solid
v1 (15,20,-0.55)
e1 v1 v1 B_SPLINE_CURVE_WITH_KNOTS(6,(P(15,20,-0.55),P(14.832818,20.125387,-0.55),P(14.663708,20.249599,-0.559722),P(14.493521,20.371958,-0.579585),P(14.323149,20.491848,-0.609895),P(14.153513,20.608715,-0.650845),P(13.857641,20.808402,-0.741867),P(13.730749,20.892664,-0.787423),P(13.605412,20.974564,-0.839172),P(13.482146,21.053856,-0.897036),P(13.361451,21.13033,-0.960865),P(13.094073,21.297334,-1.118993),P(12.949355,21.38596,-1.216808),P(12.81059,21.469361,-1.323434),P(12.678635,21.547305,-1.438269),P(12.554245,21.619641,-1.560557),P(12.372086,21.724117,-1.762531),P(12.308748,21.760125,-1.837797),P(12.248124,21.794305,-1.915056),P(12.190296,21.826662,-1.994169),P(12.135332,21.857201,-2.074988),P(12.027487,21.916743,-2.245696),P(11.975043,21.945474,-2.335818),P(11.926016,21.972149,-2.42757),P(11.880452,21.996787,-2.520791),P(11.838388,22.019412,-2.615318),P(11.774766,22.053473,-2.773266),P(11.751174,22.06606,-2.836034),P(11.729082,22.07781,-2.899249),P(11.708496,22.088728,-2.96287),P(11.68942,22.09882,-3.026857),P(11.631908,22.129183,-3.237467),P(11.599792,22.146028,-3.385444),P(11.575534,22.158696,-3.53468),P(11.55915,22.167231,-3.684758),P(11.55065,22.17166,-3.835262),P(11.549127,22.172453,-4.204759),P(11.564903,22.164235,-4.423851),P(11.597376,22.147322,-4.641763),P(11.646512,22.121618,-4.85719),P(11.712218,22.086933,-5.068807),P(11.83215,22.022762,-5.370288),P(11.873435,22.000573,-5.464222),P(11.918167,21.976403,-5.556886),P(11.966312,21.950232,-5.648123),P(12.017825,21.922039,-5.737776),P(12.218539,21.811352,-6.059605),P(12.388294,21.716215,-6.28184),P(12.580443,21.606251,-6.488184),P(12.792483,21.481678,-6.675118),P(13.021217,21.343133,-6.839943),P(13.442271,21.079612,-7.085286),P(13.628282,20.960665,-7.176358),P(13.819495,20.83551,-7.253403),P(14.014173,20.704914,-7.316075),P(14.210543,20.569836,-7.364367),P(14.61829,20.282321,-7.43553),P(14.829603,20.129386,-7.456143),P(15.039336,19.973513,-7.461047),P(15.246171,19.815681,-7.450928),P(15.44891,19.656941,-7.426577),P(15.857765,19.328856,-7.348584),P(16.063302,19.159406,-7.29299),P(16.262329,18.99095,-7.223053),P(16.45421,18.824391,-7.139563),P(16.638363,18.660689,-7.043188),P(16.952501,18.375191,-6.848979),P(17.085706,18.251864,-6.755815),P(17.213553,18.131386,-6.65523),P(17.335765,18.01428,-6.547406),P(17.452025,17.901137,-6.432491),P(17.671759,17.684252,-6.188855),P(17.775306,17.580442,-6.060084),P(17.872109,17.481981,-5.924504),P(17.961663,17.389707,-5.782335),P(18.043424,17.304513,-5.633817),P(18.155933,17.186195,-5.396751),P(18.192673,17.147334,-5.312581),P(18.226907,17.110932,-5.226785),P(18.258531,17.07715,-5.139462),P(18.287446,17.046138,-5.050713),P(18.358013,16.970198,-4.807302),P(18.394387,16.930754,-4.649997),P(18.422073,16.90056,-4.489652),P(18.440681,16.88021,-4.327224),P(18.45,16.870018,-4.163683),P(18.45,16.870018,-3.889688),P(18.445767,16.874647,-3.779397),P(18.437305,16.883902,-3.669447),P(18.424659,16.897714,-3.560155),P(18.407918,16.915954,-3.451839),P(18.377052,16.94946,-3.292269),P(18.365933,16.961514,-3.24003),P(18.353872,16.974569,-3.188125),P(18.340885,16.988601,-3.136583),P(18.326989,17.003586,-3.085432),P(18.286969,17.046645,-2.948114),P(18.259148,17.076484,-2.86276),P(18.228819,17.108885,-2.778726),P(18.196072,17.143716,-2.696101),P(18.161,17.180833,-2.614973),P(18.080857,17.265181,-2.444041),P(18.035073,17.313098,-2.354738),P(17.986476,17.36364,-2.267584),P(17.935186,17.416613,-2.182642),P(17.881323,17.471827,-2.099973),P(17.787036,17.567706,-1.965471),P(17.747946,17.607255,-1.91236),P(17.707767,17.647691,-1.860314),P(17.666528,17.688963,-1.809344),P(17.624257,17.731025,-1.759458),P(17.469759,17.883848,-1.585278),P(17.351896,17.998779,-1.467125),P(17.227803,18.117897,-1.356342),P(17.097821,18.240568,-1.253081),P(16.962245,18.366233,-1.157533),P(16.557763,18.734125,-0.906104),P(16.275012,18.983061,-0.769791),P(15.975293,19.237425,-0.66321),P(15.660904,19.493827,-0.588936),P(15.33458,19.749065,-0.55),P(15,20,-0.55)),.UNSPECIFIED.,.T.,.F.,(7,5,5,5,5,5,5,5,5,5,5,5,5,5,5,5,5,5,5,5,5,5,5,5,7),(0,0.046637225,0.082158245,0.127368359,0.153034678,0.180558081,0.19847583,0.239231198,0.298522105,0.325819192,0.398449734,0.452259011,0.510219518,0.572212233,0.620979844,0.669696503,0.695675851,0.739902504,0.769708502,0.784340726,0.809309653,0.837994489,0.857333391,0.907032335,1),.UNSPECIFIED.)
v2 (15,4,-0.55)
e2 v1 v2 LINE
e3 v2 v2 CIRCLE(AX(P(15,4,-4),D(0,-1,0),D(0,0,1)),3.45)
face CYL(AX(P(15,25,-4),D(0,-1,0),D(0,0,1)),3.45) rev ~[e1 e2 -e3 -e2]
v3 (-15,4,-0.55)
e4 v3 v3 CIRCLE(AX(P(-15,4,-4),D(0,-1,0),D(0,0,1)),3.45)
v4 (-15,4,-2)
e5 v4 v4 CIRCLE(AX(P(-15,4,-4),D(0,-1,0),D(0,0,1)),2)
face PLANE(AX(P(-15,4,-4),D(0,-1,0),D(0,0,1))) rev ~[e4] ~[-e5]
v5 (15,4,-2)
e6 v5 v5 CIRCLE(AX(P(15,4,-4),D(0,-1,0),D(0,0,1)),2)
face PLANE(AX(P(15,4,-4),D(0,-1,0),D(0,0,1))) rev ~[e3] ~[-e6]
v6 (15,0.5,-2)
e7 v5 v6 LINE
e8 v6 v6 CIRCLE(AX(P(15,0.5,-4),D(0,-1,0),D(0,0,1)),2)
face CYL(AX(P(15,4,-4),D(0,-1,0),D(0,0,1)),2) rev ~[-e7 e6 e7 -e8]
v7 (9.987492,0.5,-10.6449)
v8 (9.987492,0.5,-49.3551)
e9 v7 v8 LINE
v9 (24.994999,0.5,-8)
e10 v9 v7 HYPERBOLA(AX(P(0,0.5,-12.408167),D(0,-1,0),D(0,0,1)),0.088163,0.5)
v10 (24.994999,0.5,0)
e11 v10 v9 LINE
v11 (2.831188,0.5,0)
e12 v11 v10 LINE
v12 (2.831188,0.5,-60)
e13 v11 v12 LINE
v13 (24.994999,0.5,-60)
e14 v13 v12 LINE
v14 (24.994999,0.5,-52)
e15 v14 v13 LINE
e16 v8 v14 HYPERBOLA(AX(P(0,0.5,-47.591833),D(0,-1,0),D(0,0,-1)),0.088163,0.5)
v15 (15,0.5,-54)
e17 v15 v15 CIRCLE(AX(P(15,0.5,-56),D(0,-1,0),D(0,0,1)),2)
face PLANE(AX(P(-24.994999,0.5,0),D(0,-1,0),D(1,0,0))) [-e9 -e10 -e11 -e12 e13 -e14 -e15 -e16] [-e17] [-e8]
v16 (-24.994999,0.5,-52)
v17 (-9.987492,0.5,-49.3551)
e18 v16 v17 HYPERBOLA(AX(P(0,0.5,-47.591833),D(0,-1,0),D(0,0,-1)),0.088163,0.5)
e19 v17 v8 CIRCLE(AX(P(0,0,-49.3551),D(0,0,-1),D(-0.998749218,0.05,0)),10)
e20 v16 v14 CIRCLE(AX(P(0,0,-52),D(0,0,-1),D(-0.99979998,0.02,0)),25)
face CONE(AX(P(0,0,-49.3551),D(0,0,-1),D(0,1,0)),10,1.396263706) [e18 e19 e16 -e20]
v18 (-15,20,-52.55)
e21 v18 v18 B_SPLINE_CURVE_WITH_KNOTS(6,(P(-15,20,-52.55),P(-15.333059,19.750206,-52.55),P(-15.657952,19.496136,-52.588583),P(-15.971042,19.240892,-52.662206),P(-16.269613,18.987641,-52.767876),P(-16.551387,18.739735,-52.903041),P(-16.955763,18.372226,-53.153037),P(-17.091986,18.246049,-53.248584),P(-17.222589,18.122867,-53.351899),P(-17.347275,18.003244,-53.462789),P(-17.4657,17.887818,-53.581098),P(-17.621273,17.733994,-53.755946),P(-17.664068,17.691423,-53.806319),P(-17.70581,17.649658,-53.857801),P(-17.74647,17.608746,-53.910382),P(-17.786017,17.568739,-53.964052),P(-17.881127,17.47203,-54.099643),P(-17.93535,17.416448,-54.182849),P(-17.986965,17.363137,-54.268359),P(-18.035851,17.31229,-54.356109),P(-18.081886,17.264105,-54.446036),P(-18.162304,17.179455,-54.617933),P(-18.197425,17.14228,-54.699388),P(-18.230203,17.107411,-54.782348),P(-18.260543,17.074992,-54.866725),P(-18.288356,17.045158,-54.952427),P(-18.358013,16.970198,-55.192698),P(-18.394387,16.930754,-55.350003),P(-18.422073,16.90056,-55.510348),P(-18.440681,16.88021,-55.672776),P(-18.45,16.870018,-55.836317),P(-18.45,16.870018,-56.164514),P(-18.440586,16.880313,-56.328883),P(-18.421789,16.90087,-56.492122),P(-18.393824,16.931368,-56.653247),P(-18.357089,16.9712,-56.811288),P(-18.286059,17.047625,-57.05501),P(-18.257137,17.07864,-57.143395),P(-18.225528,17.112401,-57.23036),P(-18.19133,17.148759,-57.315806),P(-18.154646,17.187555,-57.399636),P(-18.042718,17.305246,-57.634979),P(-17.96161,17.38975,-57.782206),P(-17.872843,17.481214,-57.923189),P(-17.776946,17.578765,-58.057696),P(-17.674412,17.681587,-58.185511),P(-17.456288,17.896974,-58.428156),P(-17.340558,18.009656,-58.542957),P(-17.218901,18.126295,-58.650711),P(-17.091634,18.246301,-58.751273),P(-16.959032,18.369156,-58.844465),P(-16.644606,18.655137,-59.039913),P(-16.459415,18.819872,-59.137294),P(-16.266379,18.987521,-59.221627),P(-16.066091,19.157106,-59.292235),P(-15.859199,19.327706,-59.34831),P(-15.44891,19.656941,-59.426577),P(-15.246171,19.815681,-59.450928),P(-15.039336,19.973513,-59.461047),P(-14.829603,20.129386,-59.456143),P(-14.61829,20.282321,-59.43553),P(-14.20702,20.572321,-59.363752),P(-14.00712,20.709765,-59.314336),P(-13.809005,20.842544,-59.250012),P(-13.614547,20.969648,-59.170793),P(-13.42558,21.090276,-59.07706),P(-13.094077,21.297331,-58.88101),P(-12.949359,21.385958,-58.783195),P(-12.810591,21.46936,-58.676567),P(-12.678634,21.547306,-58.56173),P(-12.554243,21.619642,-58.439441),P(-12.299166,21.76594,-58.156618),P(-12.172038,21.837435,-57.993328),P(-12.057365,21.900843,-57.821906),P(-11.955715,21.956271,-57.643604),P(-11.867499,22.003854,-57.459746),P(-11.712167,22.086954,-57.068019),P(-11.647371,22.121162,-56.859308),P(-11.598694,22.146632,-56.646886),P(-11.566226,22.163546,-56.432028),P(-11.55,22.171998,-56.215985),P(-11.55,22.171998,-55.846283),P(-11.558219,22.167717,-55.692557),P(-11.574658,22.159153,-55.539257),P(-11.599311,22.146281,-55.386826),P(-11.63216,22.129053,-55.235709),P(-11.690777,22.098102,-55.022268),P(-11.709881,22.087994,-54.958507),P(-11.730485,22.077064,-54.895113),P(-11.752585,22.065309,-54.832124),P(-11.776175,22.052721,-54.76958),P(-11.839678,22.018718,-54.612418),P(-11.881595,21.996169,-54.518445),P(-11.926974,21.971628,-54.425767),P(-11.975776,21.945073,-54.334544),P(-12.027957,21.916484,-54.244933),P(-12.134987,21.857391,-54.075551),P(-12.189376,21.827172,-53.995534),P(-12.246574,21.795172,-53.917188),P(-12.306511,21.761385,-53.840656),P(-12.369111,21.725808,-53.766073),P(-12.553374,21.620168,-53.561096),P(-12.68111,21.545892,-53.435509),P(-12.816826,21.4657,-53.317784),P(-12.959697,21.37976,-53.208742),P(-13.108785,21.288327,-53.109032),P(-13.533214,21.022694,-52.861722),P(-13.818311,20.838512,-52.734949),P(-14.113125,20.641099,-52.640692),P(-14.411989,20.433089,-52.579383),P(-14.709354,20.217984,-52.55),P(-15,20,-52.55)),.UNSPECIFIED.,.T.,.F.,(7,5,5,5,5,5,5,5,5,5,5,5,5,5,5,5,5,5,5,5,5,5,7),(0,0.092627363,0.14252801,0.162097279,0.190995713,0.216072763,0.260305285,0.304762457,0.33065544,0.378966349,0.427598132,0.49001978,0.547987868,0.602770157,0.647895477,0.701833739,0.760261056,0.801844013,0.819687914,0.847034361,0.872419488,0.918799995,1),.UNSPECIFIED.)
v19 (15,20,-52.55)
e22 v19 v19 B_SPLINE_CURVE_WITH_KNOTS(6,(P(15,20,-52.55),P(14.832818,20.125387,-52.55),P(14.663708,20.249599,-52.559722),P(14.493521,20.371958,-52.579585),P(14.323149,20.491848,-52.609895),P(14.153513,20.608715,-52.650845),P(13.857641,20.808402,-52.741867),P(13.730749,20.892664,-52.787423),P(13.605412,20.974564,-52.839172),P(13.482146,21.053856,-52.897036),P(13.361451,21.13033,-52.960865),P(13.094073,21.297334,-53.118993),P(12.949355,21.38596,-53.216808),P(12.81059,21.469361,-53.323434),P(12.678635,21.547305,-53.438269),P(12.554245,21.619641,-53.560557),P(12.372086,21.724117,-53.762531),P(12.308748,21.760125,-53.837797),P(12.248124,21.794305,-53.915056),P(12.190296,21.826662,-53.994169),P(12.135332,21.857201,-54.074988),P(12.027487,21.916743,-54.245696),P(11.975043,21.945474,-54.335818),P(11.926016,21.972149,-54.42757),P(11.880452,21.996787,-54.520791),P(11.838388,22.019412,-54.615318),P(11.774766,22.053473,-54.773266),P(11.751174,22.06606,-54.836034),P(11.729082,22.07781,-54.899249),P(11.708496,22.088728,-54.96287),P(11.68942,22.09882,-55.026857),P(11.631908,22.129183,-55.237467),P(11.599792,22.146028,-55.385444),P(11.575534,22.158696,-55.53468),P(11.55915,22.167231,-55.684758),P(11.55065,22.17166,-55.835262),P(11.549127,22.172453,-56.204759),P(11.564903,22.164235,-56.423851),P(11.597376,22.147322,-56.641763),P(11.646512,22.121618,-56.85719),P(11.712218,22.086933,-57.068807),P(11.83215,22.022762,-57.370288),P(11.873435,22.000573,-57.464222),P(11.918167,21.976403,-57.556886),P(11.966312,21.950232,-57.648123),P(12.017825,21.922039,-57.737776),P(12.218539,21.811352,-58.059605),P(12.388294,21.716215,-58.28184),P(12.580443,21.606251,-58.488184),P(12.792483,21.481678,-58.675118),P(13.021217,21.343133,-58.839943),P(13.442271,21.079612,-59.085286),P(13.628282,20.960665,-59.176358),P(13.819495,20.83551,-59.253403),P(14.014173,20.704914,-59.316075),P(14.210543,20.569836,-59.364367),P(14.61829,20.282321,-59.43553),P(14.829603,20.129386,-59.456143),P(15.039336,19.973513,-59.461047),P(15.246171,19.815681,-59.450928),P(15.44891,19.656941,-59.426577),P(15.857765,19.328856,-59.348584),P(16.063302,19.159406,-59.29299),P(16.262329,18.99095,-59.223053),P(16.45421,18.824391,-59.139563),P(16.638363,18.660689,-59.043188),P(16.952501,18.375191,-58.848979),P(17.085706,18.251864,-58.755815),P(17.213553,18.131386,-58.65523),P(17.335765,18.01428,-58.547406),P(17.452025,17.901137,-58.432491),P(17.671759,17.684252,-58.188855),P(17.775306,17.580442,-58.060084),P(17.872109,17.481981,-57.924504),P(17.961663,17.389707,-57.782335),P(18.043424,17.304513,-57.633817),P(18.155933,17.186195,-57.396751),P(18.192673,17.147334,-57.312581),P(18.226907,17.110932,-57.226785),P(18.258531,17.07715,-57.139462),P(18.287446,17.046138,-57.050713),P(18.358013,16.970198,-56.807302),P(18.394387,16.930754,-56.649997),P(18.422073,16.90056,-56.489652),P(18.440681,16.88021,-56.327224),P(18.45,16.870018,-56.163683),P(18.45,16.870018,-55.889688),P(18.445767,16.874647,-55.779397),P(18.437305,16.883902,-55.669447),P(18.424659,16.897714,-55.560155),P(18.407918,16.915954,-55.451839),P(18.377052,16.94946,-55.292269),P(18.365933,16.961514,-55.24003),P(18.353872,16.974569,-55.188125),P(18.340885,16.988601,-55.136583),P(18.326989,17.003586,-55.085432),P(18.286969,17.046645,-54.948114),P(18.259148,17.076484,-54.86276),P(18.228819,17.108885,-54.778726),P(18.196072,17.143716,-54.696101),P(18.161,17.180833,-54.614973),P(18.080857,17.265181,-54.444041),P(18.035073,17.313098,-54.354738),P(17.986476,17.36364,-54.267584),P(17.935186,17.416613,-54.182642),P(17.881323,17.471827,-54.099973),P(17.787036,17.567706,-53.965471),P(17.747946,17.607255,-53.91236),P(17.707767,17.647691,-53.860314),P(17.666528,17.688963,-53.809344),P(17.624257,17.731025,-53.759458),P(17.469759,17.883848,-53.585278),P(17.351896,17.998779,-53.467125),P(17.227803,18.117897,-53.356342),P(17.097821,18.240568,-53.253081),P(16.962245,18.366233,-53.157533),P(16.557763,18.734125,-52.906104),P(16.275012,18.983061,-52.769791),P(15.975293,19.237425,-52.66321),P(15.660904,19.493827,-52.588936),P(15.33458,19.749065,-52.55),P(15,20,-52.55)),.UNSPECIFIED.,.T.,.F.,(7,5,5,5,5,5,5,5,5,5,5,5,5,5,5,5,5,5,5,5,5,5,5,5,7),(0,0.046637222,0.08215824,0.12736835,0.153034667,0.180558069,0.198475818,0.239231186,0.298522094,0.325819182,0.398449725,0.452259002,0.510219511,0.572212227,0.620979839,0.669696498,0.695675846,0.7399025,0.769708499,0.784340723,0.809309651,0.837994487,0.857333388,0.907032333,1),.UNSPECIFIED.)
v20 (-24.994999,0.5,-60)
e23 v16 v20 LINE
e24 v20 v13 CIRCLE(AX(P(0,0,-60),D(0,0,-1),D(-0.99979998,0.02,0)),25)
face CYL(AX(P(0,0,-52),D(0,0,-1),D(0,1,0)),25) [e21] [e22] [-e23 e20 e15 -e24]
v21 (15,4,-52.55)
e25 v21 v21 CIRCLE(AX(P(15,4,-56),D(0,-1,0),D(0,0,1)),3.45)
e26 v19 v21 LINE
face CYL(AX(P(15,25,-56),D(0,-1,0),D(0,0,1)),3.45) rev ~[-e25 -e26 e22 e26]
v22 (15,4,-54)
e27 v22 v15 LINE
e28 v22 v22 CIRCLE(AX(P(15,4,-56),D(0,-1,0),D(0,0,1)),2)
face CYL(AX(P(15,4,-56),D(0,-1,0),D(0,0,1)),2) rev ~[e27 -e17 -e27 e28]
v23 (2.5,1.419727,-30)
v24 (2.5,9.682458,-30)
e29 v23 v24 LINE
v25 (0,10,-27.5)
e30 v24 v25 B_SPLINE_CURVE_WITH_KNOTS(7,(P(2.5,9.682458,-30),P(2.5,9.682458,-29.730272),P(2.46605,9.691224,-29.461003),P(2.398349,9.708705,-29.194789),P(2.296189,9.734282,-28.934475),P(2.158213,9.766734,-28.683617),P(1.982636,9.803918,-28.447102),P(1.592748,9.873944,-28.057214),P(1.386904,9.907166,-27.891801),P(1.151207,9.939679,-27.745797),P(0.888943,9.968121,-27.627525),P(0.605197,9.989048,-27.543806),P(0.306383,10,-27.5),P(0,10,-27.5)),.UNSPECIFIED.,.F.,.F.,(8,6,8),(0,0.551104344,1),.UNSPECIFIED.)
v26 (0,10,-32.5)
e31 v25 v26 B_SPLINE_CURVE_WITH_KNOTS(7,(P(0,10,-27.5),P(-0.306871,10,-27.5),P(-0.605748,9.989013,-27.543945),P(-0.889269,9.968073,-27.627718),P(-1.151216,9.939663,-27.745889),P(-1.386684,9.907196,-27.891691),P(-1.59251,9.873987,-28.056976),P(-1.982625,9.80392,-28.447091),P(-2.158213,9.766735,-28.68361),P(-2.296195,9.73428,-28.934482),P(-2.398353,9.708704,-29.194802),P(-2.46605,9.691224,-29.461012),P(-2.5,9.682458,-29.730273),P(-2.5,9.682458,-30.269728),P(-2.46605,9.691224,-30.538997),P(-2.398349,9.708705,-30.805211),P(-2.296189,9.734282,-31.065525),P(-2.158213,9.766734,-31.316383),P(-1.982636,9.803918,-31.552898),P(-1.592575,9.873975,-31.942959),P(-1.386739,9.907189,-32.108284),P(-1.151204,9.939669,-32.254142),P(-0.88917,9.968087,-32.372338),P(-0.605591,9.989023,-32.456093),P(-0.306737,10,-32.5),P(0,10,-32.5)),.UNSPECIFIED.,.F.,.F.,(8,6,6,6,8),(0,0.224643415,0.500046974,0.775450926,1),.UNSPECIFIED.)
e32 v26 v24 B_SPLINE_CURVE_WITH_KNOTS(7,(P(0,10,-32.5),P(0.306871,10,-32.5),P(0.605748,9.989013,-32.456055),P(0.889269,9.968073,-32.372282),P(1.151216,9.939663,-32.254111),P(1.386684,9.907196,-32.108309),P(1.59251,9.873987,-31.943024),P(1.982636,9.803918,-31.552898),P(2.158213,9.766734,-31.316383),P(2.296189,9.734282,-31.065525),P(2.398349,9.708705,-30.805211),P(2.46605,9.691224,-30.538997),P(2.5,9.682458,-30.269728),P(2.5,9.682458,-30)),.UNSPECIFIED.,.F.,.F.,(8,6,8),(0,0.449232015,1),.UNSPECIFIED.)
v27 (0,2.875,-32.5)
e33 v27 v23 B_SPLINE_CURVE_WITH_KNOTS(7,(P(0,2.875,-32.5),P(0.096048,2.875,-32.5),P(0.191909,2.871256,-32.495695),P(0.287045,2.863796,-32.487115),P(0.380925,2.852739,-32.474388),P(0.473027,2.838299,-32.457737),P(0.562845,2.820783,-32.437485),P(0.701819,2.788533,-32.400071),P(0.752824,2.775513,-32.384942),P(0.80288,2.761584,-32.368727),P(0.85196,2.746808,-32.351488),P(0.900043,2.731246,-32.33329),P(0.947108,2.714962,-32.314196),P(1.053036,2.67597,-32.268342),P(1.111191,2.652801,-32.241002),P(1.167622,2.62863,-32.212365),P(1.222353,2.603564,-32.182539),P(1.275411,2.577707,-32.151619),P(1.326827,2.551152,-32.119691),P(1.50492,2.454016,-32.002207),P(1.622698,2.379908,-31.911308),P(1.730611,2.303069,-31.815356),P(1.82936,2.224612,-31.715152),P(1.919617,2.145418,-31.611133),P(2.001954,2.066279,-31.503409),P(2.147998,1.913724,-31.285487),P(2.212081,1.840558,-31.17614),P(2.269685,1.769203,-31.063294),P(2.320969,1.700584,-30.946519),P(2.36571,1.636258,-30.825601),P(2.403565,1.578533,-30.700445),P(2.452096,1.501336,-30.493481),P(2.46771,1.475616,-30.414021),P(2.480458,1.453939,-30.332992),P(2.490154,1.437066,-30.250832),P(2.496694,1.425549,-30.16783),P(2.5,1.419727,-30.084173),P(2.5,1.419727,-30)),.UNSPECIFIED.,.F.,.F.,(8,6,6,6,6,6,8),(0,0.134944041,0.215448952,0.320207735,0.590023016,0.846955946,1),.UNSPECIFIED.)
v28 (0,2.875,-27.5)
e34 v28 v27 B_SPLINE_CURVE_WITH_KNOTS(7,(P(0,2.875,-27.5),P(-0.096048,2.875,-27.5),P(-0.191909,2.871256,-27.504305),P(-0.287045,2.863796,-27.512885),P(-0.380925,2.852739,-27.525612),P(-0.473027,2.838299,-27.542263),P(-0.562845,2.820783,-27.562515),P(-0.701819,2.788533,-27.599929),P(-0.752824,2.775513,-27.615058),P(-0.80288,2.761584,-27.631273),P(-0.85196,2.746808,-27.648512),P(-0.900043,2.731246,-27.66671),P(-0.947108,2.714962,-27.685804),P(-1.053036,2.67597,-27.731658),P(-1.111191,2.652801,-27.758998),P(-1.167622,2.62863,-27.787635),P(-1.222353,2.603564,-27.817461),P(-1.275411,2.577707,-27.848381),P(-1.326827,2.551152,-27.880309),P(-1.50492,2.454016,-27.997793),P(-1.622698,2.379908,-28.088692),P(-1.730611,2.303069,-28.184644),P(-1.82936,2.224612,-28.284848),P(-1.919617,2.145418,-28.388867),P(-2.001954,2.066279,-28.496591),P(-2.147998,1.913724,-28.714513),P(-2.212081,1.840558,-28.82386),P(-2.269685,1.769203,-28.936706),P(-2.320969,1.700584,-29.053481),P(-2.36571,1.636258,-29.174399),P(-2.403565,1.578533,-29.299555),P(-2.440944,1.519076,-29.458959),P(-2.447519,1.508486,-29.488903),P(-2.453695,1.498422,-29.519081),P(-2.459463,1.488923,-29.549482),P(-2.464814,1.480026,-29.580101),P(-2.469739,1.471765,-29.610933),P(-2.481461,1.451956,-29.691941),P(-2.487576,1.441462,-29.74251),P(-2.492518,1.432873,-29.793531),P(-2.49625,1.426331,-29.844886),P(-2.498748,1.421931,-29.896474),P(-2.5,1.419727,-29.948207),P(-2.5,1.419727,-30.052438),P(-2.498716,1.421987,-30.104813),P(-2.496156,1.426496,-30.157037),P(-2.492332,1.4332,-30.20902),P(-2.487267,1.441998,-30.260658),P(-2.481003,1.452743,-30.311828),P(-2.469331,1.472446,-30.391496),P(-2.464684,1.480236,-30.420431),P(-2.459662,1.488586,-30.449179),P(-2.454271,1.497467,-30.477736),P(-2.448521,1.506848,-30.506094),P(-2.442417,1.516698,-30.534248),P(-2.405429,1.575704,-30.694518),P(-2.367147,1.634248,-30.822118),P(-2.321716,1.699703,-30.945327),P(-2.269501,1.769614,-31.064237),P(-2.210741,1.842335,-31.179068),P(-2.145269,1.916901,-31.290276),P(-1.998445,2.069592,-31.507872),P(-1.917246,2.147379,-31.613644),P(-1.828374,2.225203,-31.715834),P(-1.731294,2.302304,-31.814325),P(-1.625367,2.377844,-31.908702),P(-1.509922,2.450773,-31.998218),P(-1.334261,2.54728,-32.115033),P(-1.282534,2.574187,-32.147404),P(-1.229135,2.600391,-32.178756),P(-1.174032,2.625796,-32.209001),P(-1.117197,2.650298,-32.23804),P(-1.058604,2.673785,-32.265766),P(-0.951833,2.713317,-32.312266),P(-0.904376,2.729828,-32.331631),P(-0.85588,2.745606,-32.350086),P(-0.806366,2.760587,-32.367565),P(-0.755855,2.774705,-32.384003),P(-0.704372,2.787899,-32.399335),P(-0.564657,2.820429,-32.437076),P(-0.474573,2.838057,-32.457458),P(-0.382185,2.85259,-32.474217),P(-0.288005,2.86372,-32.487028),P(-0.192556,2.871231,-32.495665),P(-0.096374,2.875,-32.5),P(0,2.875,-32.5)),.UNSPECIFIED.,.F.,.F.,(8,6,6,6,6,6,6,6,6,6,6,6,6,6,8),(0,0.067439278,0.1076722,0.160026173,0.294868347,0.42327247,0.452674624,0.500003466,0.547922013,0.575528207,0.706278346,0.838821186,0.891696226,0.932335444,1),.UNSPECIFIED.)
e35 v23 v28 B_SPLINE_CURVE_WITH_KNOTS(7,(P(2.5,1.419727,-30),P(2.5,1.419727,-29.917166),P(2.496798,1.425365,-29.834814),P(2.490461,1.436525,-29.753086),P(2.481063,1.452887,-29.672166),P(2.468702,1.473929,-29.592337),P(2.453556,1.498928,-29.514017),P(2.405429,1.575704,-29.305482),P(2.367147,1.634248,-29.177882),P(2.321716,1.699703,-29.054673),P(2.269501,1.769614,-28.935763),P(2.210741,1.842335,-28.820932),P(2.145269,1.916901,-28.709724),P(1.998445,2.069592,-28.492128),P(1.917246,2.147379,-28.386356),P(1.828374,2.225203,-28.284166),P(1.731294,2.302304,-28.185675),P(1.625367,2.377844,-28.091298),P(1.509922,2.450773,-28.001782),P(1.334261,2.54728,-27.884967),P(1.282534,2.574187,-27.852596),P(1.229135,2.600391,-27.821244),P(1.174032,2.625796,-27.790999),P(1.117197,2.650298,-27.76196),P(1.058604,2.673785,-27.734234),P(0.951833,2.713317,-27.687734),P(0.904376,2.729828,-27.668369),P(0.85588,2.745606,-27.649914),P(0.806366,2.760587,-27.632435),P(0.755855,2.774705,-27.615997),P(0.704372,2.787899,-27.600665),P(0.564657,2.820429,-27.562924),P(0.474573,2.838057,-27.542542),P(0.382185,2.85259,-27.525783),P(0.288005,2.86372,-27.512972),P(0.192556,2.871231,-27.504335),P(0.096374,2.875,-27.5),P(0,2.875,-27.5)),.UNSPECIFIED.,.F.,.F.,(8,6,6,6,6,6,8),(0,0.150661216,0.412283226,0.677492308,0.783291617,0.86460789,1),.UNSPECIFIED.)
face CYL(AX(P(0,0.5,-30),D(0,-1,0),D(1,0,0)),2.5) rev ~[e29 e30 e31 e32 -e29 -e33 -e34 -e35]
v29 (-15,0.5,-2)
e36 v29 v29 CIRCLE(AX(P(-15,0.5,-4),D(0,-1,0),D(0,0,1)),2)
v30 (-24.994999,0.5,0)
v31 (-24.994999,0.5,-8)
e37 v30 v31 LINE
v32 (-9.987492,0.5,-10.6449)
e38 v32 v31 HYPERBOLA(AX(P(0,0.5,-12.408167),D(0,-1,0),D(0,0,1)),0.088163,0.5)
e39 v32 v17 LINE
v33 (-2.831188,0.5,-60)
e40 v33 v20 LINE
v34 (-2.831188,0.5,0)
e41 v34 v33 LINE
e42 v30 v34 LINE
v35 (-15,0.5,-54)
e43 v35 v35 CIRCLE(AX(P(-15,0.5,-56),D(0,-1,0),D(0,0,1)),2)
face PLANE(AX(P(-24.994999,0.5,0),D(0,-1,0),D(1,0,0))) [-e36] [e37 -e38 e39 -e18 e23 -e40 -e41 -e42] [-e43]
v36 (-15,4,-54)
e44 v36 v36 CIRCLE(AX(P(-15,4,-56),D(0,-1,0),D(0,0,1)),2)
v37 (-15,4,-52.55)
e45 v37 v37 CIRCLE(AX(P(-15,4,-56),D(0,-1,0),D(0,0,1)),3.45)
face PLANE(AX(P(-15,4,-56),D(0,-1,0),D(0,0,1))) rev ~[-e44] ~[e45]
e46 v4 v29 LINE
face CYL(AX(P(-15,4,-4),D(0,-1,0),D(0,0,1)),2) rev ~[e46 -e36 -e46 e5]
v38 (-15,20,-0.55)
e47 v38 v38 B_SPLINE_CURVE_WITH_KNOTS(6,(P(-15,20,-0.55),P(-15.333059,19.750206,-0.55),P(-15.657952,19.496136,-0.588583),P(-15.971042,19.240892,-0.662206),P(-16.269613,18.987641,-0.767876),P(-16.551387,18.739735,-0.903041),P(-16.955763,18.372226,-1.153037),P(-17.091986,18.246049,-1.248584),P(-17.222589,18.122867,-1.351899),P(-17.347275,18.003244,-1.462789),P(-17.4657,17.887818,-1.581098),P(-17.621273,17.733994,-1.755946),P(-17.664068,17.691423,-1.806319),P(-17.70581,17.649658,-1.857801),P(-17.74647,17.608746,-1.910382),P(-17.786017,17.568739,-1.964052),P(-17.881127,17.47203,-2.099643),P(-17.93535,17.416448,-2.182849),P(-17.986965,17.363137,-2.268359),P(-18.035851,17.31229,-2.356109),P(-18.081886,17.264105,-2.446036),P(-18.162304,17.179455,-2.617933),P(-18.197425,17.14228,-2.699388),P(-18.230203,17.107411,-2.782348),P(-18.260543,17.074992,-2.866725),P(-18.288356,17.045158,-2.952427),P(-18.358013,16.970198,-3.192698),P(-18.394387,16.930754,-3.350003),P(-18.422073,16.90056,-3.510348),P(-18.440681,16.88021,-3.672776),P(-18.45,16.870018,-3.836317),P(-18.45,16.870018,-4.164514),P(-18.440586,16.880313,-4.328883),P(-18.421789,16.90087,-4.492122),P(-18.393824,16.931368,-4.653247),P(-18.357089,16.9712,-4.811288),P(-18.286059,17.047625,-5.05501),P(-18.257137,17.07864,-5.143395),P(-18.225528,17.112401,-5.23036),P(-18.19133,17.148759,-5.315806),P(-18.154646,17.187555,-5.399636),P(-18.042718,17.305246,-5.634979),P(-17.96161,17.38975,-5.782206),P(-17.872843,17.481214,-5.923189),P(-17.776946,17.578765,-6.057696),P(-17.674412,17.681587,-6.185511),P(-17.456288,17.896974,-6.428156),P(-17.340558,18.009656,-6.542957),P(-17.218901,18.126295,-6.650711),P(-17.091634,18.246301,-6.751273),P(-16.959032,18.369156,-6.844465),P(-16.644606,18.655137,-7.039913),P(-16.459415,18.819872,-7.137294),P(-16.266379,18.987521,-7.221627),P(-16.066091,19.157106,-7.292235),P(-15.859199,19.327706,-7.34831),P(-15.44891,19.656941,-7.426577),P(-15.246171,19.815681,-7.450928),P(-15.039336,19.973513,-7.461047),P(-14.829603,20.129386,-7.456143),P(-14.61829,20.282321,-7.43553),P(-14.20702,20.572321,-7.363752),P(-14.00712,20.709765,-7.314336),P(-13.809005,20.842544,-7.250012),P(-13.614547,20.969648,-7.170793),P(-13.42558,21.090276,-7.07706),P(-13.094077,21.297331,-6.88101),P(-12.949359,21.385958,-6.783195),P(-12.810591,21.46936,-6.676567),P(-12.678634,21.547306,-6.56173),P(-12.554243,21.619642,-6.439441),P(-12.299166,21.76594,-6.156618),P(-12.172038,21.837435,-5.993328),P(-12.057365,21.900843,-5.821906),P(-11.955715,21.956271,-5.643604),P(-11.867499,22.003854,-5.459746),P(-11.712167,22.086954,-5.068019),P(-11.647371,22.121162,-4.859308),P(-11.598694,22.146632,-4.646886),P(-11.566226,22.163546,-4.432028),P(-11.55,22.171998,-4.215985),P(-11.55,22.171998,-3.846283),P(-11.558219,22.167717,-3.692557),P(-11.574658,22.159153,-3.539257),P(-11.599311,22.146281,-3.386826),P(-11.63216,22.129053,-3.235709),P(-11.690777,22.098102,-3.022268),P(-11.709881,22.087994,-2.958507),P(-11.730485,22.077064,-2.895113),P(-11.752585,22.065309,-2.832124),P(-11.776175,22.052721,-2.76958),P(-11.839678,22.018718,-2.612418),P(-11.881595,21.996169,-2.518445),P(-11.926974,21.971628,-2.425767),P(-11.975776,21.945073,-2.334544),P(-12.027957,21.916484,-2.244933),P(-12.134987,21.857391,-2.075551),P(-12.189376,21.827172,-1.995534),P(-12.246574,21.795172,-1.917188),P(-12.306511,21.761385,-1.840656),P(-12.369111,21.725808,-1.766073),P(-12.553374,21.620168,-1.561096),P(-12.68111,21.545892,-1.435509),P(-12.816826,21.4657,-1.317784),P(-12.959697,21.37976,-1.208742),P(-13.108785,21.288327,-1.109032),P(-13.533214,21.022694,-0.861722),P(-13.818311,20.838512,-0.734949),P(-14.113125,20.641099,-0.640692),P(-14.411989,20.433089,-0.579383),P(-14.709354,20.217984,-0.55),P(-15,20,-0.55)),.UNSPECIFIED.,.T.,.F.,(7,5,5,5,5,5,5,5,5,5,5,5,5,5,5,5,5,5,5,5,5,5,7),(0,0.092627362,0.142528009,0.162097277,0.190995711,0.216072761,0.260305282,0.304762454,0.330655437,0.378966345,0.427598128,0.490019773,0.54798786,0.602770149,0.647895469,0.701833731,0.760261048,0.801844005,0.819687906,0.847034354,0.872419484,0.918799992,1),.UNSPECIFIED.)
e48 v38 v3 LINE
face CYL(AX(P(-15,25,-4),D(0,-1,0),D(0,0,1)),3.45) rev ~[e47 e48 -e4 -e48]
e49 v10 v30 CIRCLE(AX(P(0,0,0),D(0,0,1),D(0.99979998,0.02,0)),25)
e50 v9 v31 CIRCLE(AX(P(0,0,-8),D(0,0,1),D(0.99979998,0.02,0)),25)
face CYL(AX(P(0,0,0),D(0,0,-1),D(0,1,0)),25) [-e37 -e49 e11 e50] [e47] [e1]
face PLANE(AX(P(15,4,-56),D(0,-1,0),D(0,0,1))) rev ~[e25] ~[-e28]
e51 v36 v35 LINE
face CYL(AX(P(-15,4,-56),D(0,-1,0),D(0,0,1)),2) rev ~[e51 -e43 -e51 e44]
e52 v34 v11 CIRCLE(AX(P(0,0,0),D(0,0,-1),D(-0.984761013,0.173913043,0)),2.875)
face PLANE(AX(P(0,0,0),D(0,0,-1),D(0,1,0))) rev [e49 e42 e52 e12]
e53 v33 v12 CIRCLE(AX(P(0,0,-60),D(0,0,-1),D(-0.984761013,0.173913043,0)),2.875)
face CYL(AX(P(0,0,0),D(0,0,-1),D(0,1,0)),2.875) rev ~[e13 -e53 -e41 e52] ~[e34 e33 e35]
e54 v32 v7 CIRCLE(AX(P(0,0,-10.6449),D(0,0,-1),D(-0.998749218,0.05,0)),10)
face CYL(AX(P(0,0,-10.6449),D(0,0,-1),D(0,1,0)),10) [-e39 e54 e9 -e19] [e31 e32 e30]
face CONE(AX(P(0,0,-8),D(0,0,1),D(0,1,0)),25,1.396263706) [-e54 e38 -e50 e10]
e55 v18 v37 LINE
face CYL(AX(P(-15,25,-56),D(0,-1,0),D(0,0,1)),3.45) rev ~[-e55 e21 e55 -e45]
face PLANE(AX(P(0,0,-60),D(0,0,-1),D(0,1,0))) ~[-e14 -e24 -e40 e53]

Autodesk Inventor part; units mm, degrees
ref_plane "YZ Plane" through (0, 0, 0) normal (1, 0, 0) x (0, 1, 0)
ref_plane "XZ Plane" through (0, 0, 0) normal (0, 1, 0) x (-1, 0, 0)
sketch "Esquisse1" plane through (0, 0, 0) normal (1, 0, 0) x (0, 1, 0)
  line L0 (0, 0) -> (0, -46.4485)
  line L1 (2.875, 0) -> (25, 0)
  line L2 (25, 0) -> (25, -8)
  line L3 (2.875, 0) -> (2.875, -60)
  line L4 (25, -8) -> (10, -10.6449)
  line L5 (10, -10.6449) -> (10, -49.3551)
  line L6 (10, -49.3551) -> (25, -52)
  line L7 (25, -52) -> (25, -60)
  line L8 (2.875, -60) -> (25, -60)
  dimension "d0" = 5.75
  dimension "d1" = 50
  dimension "d2" = 20
  dimension "d3" = 100
  dimension "d4" = 8
  dimension "d5" = 100
  dimension "d6" = 60
  dimension "d7" = 15
  dimension "d8" = 38.7102
revolve "Révolution1" add sketch "Esquisse1" angle 360 about axis through (0, 0, 0) along (0, 0, -1)
sketch "Esquisse2" plane through (0, 0, 0) normal (0, 0, 1) x (1, 0, 0)
  circle A0 centre (0, 0) radius 25 projected
  line L0 (-25, 0.5) -> (25, 0.5)
  line L1 (25, 0.5) -> (25, -25)
  line L2 (25, -25) -> (-25, -25)
  line L3 (-25, -25) -> (-25, 0.5)
  point P0 (-25, 0)
  point P1 (25, 0)
  dimension "d42" = 0.5
extrude "Extrusion1" cut sketch "Esquisse2" against normal up to surface (60 mm away) contours A0 L0 | L1 L2 A0 | A0 L0 L1 | L2 L3 A0 | A0 L3 L0 picked at (-6.5153, -4.8624)
sketch "Esquisse3" plane through (-25, 0.5, 0) normal (0, -1, 0) x (1, 0, 0)
  line L0 (0, -52) -> (15, -49.3551) projected
  line L1 (0, -60) -> (0, -52) projected
  line L2 (22.125, -60) -> (0, -60) projected
  line L3 (22.125, 0) -> (22.125, -60) projected
  line L4 (0, 0) -> (22.125, 0) projected
  line L5 (0, -8) -> (0, 0) projected
  line L6 (15, -10.6449) -> (0, -8) projected
  line L7 (15, -49.3551) -> (15, -10.6449) projected
  line L8 (35, -49.3551) -> (50, -52) projected
  line L9 (35, -10.6449) -> (35, -49.3551) projected
  line L10 (50, -8) -> (35, -10.6449) projected
  line L11 (50, 0) -> (50, -8) projected
  line L12 (27.875, 0) -> (50, 0) projected
  line L13 (27.875, -60) -> (27.875, 0) projected
  line L14 (50, -60) -> (27.875, -60) projected
  line L15 (50, -52) -> (50, -60) projected
  line L16 (22.1688, -60) -> (27.8312, -60) projected
  line L17 (22.1688, 0) -> (27.8312, 0) projected
  circle A0 centre (25, -30) radius 2.5
  line L18 (27.8312, -60) -> (27.8312, 0) projected
  line L19 (22.1688, 0) -> (22.1688, -60) projected
  point P0 (25, 0)
  point P1 (22.125, 0)
  point P2 (27.875, 0)
  point P3 (25, 0)
  dimension "d13" = 60
  dimension "d14" = 30
  dimension "d15" = 5
extrude "Extrusion2" cut sketch "Esquisse3" against normal up to surface contours A0
ref_plane "Plan de construction2" through (0, 25, -60) normal (0, 1, 0) x (-1, 0, 0)
sketch "Esquisse6" plane through (0, 25, -60) normal (0, 1, 0) x (-1, 0, 0)
  line L0 (24.995, 0) -> (-24.995, 0) projected
  line L1 (24.995, 8) -> (-24.995, 8) projected
  line L2 (24.995, 52) -> (-24.995, 52) projected
  line L3 (24.995, 60) -> (-24.995, 60) projected
  line L4 (-24.995, 60) -> (-24.995, 52) projected
  line L5 (24.995, 52) -> (24.995, 60) projected
  line L6 (-24.995, 8) -> (-24.995, 0) projected
  line L7 (24.995, 0) -> (24.995, 8) projected
  point P0 (0, 60)
  point P1 (25, 8)
  point P2 (25, 0)
  point P3 (-25, 0)
  point P4 (-25, 8)
  point P5 (25, 60)
  point P6 (25, 52)
  point P7 (-25, 52)
  point P8 (-25, 60)
  point P9 (-15, 4)
  point P10 (15, 4)
  point P11 (15, 56)
  point P12 (-15, 56)
  dimension "d31" = 8
  dimension "d32" = 4
  dimension "d33" = 4
hole "Perçage2" at (15, 25, -56) at (-15, 25, -56) at (-15, 25, -4) at (15, 25, -4) direction (0, -1, 0) diameter 4 end through all counterbore diameter 6.9 counterbore depth 21
equation "\"d5\" = d3"
equation "\"d14\" = 0.5 * d13"
equation "\"d32\" = 0.5 * d31"
equation "\"d33\" = d32"
properties part number "demi_tambour"
